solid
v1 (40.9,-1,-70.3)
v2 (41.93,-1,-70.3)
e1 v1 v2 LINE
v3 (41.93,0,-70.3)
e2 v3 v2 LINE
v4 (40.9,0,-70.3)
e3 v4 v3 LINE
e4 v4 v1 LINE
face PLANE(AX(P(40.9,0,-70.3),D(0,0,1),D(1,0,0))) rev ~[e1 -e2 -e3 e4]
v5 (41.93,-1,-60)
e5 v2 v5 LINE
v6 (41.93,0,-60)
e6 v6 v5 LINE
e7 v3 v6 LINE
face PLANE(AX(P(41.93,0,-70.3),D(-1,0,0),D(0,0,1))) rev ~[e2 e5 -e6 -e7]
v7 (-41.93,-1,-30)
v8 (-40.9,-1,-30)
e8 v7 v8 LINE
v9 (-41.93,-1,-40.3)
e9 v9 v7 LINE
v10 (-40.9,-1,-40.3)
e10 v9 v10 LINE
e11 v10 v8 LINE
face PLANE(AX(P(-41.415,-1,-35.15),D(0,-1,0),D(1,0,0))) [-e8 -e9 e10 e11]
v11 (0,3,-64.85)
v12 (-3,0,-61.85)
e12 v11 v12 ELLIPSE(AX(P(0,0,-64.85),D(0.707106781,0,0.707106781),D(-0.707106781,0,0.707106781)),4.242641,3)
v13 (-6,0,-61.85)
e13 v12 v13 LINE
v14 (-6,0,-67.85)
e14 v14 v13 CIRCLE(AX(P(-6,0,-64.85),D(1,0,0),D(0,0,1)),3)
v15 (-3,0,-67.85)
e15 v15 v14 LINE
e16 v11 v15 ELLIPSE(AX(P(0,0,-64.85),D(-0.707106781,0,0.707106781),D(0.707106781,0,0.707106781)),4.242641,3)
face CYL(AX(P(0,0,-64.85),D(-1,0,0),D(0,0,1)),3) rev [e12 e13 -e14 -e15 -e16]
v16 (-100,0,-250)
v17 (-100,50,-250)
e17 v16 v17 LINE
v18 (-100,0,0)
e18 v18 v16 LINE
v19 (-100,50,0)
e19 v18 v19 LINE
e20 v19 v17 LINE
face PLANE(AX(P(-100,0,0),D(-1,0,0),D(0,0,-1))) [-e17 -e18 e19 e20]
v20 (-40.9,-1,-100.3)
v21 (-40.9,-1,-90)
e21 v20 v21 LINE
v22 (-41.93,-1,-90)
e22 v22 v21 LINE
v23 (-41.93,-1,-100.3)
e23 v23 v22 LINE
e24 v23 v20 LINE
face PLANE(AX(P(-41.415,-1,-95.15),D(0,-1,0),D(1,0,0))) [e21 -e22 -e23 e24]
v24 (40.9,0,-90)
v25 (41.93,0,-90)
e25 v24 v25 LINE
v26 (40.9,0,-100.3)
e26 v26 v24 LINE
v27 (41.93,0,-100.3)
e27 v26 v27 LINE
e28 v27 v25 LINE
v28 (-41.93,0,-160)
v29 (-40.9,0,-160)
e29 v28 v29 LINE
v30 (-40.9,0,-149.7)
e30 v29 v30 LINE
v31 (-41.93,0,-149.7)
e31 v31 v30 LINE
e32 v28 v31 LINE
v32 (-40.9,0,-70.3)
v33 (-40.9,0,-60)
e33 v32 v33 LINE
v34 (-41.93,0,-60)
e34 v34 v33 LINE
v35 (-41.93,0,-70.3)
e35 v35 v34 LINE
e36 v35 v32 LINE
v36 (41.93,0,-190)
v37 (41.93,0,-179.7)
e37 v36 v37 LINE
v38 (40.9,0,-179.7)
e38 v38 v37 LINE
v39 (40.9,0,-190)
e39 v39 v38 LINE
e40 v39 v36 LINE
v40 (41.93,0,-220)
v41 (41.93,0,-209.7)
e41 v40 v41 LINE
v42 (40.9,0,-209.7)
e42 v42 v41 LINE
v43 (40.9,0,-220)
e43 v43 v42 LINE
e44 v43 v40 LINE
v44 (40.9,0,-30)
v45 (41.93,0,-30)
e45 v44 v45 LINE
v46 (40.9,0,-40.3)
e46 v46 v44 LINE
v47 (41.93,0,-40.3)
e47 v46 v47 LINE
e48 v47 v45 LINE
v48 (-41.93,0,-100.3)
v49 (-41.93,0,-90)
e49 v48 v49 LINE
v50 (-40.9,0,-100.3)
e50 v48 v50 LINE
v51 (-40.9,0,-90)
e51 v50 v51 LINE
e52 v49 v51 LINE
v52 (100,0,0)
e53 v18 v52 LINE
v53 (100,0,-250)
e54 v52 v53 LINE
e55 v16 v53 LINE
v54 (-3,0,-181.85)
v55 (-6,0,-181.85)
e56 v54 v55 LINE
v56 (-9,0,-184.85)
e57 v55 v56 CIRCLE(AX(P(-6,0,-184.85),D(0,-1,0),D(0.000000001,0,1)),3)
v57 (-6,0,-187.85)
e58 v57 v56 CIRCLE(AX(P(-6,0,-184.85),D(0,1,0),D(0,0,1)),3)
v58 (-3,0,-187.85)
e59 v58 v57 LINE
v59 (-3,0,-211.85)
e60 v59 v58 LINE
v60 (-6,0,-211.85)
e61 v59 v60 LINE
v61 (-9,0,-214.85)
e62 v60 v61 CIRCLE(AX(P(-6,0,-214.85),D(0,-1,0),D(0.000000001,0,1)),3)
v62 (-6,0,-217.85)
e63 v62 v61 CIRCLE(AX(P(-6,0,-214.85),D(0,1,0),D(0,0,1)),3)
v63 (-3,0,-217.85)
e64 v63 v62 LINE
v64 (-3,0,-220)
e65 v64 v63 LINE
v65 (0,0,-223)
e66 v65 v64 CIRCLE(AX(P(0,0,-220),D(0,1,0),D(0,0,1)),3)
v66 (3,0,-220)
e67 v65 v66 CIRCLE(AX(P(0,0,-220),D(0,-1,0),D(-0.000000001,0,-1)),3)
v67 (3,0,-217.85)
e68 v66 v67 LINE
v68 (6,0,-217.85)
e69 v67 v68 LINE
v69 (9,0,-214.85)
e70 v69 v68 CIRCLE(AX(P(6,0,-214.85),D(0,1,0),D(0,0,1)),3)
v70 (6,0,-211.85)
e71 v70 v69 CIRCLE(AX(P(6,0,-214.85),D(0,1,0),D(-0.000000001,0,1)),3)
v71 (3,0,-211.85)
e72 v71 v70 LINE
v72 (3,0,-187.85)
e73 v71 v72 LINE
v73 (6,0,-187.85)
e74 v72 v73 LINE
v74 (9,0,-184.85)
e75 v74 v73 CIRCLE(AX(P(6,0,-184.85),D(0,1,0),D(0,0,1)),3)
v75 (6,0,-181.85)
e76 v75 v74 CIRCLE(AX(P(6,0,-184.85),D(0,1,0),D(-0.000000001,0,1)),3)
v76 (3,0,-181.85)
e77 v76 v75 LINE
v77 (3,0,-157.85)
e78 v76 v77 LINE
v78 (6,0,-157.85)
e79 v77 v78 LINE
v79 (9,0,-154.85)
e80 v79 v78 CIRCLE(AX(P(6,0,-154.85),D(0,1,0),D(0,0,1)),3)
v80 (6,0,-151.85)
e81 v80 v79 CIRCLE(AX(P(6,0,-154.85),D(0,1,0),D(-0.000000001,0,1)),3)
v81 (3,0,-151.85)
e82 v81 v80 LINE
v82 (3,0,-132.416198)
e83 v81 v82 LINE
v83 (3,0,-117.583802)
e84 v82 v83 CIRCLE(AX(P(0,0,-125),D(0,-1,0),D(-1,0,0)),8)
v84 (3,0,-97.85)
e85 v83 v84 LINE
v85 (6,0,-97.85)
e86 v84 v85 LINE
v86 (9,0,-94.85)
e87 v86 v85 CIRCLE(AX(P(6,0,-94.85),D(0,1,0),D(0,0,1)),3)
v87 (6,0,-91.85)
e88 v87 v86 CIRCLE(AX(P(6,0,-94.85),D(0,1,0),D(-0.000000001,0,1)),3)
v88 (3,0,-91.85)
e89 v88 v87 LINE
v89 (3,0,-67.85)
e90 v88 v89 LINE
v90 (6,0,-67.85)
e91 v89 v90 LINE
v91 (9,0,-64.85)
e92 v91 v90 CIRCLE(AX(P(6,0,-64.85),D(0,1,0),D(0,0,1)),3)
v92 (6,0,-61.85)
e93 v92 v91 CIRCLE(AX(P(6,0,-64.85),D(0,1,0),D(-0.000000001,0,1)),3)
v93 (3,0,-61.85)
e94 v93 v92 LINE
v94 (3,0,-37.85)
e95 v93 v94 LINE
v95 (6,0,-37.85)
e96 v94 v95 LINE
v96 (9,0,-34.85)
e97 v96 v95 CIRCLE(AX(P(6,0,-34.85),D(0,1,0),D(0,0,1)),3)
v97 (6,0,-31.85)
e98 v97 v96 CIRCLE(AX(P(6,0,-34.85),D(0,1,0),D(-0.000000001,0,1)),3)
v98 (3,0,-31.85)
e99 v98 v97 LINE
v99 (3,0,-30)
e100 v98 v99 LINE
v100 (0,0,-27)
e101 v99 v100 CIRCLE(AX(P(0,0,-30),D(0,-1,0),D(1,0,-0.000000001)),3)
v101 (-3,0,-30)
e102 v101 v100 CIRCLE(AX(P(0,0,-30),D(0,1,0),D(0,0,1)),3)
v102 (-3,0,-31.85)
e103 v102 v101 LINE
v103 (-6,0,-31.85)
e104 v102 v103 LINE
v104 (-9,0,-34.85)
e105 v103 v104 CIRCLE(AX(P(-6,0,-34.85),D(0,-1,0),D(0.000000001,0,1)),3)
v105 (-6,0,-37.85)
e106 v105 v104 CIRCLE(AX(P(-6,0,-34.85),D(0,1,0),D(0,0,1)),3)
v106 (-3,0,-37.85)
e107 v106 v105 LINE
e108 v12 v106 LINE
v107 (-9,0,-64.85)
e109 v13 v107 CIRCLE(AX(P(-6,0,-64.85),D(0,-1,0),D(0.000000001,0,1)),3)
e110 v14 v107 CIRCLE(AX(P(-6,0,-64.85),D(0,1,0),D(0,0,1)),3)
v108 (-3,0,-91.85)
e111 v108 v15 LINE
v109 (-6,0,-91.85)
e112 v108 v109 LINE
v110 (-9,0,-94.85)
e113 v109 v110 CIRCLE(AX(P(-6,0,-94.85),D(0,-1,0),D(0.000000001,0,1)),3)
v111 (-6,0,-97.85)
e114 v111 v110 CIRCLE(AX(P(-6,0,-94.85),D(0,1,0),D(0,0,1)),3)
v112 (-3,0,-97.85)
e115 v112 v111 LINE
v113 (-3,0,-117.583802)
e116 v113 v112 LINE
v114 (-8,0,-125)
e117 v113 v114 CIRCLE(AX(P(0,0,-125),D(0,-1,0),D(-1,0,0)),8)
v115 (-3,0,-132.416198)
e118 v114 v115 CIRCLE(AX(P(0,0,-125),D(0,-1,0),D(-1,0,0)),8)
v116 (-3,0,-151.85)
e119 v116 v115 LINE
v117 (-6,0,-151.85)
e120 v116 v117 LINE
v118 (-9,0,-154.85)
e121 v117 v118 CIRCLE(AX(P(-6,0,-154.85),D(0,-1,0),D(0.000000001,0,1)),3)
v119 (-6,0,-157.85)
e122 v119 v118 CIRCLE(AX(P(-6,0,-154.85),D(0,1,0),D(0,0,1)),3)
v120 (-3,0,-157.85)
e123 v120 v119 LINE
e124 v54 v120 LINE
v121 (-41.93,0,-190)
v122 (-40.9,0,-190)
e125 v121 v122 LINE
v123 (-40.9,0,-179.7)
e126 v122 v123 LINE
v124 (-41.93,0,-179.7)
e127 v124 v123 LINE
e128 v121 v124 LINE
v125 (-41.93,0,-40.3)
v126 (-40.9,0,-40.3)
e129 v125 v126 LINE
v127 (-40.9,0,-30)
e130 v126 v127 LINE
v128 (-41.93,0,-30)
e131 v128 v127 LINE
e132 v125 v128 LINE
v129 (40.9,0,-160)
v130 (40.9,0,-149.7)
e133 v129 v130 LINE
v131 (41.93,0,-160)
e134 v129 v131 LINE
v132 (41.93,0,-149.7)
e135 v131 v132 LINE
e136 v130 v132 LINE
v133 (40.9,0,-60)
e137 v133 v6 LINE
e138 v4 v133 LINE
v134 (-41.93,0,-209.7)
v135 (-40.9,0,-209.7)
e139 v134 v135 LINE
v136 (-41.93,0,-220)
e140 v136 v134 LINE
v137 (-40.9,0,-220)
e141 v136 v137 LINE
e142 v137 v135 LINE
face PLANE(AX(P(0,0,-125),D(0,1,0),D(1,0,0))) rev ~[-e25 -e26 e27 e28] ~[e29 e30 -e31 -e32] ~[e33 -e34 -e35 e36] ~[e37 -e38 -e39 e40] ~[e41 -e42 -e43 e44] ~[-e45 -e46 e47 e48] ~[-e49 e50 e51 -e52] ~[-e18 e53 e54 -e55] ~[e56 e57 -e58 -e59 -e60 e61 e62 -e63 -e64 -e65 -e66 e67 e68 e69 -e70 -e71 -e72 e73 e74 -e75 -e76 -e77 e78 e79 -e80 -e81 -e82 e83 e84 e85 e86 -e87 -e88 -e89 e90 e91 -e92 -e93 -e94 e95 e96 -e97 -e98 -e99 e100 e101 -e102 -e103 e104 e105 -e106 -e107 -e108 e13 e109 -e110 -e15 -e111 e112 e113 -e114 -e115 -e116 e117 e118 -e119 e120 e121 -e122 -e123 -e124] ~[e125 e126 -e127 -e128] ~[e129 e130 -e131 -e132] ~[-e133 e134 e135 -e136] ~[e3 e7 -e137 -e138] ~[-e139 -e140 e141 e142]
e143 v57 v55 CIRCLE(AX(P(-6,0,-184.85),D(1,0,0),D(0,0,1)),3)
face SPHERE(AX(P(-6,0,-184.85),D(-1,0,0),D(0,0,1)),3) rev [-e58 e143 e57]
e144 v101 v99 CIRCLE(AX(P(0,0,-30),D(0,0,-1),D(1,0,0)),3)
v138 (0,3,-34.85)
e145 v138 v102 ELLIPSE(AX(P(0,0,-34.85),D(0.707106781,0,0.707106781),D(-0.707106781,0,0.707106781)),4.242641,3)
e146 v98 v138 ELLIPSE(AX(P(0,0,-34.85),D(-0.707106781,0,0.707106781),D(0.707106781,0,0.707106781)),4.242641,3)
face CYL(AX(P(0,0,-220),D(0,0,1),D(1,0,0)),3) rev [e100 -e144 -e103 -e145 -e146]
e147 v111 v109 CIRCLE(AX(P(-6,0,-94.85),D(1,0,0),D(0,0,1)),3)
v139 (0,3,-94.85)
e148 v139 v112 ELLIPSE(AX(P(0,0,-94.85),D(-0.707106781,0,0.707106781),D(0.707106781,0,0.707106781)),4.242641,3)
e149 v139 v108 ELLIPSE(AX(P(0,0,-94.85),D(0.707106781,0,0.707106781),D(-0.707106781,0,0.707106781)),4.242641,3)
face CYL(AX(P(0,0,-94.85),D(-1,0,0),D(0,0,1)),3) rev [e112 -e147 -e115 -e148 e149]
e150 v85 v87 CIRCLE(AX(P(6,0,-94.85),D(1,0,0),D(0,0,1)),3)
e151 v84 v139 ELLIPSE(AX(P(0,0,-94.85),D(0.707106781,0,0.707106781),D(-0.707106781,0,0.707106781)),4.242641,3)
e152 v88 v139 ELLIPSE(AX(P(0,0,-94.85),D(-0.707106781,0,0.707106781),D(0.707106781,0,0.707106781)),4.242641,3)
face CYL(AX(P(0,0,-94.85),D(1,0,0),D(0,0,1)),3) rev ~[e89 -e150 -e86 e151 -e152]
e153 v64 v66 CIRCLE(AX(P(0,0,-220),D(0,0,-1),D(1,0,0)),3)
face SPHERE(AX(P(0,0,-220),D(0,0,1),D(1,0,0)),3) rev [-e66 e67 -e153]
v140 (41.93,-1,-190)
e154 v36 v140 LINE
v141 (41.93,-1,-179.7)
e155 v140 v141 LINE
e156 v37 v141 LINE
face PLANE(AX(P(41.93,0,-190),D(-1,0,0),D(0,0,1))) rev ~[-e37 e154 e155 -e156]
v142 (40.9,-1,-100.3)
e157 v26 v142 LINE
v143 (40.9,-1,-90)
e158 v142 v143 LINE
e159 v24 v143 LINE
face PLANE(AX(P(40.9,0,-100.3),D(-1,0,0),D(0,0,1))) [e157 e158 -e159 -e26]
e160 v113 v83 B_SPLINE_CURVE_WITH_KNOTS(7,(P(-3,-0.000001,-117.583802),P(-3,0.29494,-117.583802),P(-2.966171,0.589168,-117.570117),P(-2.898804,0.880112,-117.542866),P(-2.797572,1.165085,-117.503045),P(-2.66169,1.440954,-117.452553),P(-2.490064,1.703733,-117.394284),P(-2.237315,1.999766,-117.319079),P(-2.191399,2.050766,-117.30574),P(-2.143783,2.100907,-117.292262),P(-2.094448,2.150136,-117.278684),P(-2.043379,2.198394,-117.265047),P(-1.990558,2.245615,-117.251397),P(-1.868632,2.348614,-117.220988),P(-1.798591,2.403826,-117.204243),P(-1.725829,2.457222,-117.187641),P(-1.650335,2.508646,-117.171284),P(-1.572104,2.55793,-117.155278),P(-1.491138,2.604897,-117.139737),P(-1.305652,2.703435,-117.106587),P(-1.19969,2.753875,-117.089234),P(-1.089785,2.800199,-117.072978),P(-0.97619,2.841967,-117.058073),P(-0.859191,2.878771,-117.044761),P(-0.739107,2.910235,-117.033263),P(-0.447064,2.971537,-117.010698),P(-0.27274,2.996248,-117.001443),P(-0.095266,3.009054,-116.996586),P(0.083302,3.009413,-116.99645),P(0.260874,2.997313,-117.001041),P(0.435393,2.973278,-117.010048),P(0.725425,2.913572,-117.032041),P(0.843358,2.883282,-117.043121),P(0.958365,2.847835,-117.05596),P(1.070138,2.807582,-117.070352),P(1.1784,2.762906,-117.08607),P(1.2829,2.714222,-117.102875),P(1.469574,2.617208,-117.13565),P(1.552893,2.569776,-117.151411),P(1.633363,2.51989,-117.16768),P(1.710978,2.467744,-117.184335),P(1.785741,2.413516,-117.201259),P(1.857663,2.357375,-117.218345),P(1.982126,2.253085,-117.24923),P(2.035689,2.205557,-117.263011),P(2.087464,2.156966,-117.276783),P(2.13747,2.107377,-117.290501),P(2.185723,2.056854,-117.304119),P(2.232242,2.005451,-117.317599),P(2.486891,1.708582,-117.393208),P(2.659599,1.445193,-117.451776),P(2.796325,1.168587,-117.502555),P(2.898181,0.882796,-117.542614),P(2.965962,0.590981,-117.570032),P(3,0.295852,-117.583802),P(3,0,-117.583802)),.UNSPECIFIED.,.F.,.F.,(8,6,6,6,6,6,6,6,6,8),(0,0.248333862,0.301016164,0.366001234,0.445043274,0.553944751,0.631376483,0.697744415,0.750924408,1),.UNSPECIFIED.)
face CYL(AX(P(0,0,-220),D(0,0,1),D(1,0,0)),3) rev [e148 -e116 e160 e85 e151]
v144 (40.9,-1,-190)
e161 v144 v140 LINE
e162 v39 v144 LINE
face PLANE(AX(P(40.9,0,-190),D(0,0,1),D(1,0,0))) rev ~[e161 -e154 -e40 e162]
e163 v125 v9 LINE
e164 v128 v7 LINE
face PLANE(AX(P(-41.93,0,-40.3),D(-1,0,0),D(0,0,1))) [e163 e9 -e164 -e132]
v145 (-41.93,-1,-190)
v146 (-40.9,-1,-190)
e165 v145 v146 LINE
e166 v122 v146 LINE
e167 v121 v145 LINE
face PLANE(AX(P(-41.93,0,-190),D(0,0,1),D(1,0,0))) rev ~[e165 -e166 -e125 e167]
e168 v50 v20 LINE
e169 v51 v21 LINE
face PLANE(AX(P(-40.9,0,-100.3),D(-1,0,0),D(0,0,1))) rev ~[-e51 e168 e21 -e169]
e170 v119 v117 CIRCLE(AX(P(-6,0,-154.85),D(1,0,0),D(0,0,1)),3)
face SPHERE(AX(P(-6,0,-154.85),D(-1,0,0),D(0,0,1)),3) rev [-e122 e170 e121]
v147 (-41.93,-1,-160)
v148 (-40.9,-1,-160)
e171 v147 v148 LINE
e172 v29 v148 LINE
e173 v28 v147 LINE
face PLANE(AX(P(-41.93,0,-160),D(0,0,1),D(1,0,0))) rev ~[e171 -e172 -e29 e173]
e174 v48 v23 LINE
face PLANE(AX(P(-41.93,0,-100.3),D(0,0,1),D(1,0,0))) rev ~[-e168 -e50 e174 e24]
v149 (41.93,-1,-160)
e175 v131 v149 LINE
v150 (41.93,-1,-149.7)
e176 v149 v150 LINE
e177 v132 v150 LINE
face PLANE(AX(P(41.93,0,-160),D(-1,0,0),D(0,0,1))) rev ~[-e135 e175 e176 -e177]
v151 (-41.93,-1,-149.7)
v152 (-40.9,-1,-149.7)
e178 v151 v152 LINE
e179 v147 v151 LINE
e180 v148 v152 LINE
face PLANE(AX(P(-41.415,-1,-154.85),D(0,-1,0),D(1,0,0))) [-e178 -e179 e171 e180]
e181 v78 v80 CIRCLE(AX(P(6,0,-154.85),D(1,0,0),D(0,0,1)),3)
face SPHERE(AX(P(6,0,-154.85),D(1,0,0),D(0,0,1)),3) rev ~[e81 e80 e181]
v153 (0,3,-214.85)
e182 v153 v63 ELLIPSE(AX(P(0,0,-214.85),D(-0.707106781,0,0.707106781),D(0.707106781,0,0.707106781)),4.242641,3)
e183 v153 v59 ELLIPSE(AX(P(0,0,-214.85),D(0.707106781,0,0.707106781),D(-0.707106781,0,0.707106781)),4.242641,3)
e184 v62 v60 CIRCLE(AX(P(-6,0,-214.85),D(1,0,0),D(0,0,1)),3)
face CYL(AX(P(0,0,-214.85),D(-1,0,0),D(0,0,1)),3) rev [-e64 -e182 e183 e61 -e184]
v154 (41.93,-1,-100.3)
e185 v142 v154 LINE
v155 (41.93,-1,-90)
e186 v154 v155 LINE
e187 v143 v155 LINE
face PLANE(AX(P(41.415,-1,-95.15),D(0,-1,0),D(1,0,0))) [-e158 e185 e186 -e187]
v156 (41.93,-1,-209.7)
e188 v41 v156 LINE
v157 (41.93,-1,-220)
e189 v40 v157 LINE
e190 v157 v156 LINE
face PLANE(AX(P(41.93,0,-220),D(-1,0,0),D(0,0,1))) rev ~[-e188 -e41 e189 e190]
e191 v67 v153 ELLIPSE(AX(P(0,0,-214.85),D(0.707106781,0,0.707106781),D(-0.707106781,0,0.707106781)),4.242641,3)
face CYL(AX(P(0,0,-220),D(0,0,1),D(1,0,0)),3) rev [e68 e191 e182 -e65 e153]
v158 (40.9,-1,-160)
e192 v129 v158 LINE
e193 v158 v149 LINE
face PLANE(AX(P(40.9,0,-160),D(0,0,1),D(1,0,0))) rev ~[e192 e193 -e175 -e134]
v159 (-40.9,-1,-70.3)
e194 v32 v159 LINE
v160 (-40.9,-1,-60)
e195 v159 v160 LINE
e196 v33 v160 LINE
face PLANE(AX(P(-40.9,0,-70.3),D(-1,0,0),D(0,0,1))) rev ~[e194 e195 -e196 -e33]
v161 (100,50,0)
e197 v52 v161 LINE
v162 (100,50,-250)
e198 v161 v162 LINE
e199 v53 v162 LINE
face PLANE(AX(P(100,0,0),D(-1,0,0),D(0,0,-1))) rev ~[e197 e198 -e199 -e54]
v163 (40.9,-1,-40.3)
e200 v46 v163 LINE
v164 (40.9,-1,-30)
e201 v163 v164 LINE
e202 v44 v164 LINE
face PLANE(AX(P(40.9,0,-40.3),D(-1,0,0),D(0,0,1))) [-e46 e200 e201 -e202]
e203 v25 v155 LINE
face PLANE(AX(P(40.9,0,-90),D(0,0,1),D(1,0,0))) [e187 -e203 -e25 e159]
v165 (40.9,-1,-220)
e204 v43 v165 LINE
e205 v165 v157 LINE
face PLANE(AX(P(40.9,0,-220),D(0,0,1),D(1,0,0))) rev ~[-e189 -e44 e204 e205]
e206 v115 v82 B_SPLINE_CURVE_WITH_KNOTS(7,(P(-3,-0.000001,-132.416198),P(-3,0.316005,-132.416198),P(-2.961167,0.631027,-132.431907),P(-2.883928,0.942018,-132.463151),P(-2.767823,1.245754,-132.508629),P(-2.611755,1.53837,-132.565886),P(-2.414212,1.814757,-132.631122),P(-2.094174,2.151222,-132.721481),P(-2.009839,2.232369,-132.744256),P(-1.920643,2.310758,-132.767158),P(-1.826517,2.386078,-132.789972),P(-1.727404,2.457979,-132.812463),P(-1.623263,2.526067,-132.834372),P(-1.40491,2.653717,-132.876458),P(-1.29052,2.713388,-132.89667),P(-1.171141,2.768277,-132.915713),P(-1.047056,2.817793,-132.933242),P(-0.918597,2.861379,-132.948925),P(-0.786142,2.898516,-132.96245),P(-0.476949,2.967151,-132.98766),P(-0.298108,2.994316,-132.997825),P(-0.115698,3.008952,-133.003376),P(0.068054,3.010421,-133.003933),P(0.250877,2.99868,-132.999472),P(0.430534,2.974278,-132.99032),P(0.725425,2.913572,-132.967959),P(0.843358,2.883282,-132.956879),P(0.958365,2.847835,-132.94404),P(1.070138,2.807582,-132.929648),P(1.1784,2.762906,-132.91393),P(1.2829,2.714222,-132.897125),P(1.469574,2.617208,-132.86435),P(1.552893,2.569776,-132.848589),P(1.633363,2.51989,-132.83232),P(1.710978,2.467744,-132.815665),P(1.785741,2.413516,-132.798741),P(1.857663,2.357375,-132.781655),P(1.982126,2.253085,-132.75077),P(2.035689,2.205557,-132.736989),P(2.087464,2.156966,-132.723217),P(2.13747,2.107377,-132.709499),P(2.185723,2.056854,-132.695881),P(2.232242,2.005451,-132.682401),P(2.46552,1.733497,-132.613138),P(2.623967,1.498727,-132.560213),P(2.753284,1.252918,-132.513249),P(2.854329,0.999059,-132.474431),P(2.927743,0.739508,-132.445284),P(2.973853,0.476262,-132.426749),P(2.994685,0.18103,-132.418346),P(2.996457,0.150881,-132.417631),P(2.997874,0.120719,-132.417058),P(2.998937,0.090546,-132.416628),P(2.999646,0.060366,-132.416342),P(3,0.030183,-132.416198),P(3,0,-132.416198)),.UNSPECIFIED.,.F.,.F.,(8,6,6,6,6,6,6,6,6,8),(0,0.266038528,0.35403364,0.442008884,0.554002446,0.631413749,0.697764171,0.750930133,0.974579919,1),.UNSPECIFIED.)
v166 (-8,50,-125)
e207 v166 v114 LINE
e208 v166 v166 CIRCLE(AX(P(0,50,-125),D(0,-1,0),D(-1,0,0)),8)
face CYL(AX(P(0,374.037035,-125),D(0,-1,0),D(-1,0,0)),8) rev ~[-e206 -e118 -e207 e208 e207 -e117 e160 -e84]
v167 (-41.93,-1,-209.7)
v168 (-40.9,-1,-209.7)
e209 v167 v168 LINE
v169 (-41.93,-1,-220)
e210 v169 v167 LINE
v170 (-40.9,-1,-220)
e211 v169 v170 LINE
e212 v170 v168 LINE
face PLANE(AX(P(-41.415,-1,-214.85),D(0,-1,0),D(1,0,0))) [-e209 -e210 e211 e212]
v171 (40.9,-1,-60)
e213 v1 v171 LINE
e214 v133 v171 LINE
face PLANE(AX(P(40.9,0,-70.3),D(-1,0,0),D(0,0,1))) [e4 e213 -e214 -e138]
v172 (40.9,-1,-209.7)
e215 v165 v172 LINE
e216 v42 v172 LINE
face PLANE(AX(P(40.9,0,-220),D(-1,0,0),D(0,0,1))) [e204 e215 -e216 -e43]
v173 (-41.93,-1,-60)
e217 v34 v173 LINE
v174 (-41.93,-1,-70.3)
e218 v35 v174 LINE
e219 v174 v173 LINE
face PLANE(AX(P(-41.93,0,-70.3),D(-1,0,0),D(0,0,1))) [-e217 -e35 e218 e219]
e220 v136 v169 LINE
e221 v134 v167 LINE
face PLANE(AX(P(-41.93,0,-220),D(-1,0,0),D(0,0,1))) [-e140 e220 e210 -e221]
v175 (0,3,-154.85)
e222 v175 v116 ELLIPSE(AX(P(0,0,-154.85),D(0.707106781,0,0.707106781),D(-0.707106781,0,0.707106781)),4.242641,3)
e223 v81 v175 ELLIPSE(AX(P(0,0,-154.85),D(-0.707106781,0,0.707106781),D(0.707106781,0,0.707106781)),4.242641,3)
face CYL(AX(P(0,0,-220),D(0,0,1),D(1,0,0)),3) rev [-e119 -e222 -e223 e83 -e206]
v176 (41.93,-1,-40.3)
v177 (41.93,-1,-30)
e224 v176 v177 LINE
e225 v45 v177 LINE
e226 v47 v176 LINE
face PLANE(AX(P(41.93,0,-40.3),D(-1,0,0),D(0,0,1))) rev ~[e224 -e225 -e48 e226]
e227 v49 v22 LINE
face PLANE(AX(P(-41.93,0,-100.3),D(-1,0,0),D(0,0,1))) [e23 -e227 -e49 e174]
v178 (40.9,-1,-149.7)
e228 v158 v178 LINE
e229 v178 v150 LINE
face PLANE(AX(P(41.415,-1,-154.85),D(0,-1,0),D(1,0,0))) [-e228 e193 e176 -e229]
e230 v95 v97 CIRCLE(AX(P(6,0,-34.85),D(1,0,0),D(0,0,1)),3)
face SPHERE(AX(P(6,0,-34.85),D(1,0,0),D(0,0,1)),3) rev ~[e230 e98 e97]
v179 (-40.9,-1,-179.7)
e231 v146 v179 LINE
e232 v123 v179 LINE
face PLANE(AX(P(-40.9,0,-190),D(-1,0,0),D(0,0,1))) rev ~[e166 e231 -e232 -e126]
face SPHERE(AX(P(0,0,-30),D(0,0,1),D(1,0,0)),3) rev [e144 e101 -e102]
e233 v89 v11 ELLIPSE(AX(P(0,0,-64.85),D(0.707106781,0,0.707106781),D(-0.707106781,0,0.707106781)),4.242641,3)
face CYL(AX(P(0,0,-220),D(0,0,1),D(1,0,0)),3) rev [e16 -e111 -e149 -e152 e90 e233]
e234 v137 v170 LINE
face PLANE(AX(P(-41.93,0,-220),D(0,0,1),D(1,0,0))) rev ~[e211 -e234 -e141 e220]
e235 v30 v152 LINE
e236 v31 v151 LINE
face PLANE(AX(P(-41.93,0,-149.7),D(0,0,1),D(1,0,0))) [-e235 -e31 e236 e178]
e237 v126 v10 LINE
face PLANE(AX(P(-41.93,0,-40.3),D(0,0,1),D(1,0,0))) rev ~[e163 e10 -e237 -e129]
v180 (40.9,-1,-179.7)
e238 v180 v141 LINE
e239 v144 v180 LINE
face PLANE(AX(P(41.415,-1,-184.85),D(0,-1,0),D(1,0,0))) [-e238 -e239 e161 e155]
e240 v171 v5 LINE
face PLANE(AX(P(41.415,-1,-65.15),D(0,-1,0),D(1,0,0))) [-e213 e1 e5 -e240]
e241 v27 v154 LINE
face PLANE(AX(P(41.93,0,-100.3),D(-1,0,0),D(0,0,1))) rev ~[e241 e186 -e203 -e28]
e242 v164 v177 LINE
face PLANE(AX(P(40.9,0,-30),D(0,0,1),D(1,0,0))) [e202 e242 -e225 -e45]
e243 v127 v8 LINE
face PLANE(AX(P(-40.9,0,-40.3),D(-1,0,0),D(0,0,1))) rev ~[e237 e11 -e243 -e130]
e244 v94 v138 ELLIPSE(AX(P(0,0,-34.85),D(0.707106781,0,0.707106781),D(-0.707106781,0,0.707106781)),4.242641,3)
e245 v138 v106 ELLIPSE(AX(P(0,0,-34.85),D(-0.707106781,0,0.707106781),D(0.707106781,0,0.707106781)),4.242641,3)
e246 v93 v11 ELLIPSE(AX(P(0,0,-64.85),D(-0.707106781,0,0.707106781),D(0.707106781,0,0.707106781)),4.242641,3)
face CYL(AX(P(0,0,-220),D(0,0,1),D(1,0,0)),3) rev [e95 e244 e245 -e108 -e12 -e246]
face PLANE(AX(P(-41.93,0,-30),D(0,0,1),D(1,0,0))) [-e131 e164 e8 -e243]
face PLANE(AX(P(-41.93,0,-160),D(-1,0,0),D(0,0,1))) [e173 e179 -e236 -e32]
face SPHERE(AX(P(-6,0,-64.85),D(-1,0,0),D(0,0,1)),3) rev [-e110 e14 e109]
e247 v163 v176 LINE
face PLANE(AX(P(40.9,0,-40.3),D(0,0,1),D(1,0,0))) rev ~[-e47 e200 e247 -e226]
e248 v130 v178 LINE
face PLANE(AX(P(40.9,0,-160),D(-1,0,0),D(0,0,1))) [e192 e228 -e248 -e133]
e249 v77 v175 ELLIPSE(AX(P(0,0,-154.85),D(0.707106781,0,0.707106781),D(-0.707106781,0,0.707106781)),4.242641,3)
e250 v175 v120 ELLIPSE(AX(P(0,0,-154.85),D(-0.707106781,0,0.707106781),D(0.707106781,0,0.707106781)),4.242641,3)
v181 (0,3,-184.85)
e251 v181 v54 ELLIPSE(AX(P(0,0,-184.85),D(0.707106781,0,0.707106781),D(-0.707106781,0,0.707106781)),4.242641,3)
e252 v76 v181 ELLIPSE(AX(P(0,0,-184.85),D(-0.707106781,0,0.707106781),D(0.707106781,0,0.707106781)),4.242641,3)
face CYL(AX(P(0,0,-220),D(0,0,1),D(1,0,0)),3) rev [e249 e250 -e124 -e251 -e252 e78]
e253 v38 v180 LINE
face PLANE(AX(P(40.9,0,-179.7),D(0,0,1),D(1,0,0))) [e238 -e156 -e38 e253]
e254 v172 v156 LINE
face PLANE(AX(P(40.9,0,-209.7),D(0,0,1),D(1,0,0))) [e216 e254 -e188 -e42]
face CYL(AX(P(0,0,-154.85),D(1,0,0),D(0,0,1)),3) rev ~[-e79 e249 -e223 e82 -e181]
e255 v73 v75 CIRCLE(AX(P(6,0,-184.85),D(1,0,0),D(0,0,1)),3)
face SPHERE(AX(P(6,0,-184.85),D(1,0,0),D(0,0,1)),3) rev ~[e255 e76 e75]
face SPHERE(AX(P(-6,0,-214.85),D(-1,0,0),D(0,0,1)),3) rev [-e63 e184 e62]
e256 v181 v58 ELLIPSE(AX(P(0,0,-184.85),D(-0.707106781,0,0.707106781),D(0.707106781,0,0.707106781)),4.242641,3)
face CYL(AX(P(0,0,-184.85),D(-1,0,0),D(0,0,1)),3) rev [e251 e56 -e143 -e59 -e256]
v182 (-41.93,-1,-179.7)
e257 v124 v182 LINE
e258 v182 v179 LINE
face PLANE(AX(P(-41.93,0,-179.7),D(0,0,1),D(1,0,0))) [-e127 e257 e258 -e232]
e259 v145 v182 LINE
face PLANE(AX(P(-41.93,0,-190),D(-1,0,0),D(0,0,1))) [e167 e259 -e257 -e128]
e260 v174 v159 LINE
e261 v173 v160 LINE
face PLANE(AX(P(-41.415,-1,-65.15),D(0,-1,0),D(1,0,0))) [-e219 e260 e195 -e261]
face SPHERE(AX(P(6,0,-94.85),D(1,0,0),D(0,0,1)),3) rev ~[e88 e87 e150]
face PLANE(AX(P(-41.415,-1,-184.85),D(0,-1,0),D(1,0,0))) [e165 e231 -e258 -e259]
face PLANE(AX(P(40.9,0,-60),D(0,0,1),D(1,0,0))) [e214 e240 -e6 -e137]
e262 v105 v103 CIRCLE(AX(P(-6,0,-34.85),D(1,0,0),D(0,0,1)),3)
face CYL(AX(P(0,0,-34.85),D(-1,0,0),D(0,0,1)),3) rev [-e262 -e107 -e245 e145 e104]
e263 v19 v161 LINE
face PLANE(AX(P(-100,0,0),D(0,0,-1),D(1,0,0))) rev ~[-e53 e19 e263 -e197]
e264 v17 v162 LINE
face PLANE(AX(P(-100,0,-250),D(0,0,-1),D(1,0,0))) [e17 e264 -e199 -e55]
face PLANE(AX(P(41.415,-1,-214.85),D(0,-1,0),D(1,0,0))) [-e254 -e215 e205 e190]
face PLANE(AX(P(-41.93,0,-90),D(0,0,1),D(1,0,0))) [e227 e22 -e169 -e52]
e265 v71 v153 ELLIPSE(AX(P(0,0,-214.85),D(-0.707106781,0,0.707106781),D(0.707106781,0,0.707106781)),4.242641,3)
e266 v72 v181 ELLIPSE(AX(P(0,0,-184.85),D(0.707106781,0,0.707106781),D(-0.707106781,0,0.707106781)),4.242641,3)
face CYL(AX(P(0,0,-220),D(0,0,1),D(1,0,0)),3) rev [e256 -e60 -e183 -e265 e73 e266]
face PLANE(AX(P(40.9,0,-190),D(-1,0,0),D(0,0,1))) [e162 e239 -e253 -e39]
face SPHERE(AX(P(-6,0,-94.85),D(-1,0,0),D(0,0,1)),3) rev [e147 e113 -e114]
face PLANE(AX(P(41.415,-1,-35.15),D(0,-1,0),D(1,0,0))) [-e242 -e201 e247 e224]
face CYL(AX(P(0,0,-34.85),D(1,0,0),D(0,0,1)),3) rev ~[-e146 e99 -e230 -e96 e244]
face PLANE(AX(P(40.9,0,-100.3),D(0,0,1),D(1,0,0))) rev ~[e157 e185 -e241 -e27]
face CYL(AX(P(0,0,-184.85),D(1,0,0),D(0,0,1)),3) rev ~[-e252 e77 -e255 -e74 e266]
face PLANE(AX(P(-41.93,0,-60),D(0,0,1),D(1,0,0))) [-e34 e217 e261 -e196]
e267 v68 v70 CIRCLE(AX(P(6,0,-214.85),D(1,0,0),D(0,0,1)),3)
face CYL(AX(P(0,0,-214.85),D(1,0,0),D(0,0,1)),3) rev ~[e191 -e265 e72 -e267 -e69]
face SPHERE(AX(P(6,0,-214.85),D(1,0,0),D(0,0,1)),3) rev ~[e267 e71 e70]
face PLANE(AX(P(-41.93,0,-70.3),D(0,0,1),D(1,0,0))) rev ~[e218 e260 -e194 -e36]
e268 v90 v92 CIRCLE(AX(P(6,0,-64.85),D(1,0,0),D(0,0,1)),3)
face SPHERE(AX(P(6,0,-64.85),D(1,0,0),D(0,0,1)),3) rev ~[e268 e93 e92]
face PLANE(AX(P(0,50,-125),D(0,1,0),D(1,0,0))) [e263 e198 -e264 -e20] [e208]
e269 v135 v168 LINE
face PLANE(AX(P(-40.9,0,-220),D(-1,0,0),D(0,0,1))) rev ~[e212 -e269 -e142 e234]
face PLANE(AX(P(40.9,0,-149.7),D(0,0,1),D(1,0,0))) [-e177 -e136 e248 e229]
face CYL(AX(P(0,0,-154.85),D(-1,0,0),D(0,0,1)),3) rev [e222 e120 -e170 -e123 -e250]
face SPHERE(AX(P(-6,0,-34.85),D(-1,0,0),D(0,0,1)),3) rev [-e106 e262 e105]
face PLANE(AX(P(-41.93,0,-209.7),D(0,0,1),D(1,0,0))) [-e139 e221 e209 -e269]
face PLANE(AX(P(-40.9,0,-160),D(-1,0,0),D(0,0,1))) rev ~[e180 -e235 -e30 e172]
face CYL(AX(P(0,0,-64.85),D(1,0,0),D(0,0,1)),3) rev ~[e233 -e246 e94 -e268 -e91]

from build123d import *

# Parameters (mm, degrees)
ESBO_O1_W                    = 200
ESBO_O1_H                    = 250
RESSALTO_EXTRUS_O1_DEPTH     = 50
FURO_DE_DI_METRO_16_0_16_1_D = 16
PADR_O_LINEAR1_COUNT         = 3
PADR_O_LINEAR1_PITCH         = 30
PADR_O_LINEAR1_COUNT_DIR2    = 2
PADR_O_LINEAR1_PITCH_DIR2    = 120
ESBO_O7_W                    = 1.03
ESBO_O7_H                    = 10.3
RESSALTO_EXTRUS_O2_DEPTH     = 1


with BuildPart() as part:
    # Esboço1 → Ressalto-extrusão1 (new body)
    with BuildSketch(Plane(origin=(0, 0, 0), x_dir=(1, 0, 0), z_dir=(0, 1, 0))):
        with Locations((0, 125)):
            Rectangle(ESBO_O1_W, ESBO_O1_H)
    extrude(amount=RESSALTO_EXTRUS_O1_DEPTH)

    # Furo de diâmetro Ø16.0 (16)1 (through all)
    with Locations(Plane(origin=(0, 50, 0), x_dir=(1, 0, 0), z_dir=(0, 1, 0))):
        with Locations((0, 125)):
            Hole(FURO_DE_DI_METRO_16_0_16_1_D / 2)

    # Esboço5 → Corte-Revolução1 (revolve, cut)
    with BuildSketch(Plane.XZ):
        with BuildLine():
            Line((0, -27), (0, -223))
            ThreePointArc((0, -223), (2.121320344, -222.121320344), (3, -220))
            Line((3, -220), (3, -30))
            ThreePointArc((3, -30), (2.121320344, -27.878679656), (0, -27))
        make_face()
    revolve(axis=Axis((0, 0, -27), (0, 0, -1)), mode=Mode.SUBTRACT)

    # Esboço6 → Corte-Revolução2 (revolve, cut)
    with BuildSketch(Plane.XZ):
        with BuildLine():
            Line((-9, -34.85), (0, -34.85))
            Line((0, -34.85), (0, -31.85))
            Line((0, -31.85), (-6, -31.85))
            ThreePointArc((-6, -31.85), (-8.121320344, -32.728679656), (-9, -34.85))
        make_face()
    corte_revolu_o2 = revolve(axis=Axis((-9, 0, -34.85), (1, 0, 0)), mode=Mode.SUBTRACT)

    # Padrão linear1: Corte-Revolu_o2 3 × 2
    with Locations(*[Vector(0, 0, -1) * (i * PADR_O_LINEAR1_PITCH) + Vector(0, 0, -1) * (j * PADR_O_LINEAR1_PITCH_DIR2) for i in range(PADR_O_LINEAR1_COUNT) for j in range(PADR_O_LINEAR1_COUNT_DIR2) if (i, j) != (0, 0)]):
        add(corte_revolu_o2, mode=Mode.SUBTRACT)

    # Espelhar1: Corte-Revolução2 across plane
    add(corte_revolu_o2.mirror(Plane(origin=(0, 0, 0), x_dir=(0, 0, 1), z_dir=(1, 0, 0))), mode=Mode.SUBTRACT)

    # Espelhar1 copy 1 sketch → Espelhar1 copy 1 (revolve, cut)
    with BuildSketch(Plane(origin=(0, 0, -120), x_dir=(-1, 0, 0), z_dir=(0, -1, 0))):
        with BuildLine():
            Line((-9, 34.85), (0, 34.85))
            Line((0, 34.85), (0, 31.85))
            Line((0, 31.85), (-6, 31.85))
            ThreePointArc((-6, 31.85), (-8.121320344, 32.728679656), (-9, 34.85))
        make_face()
    revolve(axis=Axis((9, 0, -154.85), (1, 0, 0)), mode=Mode.SUBTRACT)

    # Espelhar1 copy 2 sketch → Espelhar1 copy 2 (revolve, cut)
    with BuildSketch(Plane(origin=(0, 0, -30), x_dir=(-1, 0, 0), z_dir=(0, -1, 0))):
        with BuildLine():
            Line((-9, 34.85), (0, 34.85))
            Line((0, 34.85), (0, 31.85))
            Line((0, 31.85), (-6, 31.85))
            ThreePointArc((-6, 31.85), (-8.121320344, 32.728679656), (-9, 34.85))
        make_face()
    revolve(axis=Axis((9, 0, -64.85), (1, 0, 0)), mode=Mode.SUBTRACT)

    # Espelhar1 copy 3 sketch → Espelhar1 copy 3 (revolve, cut)
    with BuildSketch(Plane(origin=(0, 0, -150), x_dir=(-1, 0, 0), z_dir=(0, -1, 0))):
        with BuildLine():
            Line((-9, 34.85), (0, 34.85))
            Line((0, 34.85), (0, 31.85))
            Line((0, 31.85), (-6, 31.85))
            ThreePointArc((-6, 31.85), (-8.121320344, 32.728679656), (-9, 34.85))
        make_face()
    revolve(axis=Axis((9, 0, -184.85), (1, 0, 0)), mode=Mode.SUBTRACT)

    # Espelhar1 copy 4 sketch → Espelhar1 copy 4 (revolve, cut)
    with BuildSketch(Plane(origin=(0, 0, -60), x_dir=(-1, 0, 0), z_dir=(0, -1, 0))):
        with BuildLine():
            Line((-9, 34.85), (0, 34.85))
            Line((0, 34.85), (0, 31.85))
            Line((0, 31.85), (-6, 31.85))
            ThreePointArc((-6, 31.85), (-8.121320344, 32.728679656), (-9, 34.85))
        make_face()
    revolve(axis=Axis((9, 0, -94.85), (1, 0, 0)), mode=Mode.SUBTRACT)

    # Espelhar1 copy 5 sketch → Espelhar1 copy 5 (revolve, cut)
    with BuildSketch(Plane(origin=(0, 0, -180), x_dir=(-1, 0, 0), z_dir=(0, -1, 0))):
        with BuildLine():
            Line((-9, 34.85), (0, 34.85))
            Line((0, 34.85), (0, 31.85))
            Line((0, 31.85), (-6, 31.85))
            ThreePointArc((-6, 31.85), (-8.121320344, 32.728679656), (-9, 34.85))
        make_face()
    revolve(axis=Axis((9, 0, -214.85), (1, 0, 0)), mode=Mode.SUBTRACT)

    # Esboço7 → Ressalto-extrusão2 (add)
    with BuildSketch(Plane.XZ):
        with Locations((-41.415, -35.15)):
            Rectangle(ESBO_O7_W, ESBO_O7_H)
        with Locations((-41.415, -65.15)):
            Rectangle(ESBO_O7_W, ESBO_O7_H)
        with Locations((-41.415, -95.15)):
            Rectangle(ESBO_O7_W, ESBO_O7_H)
        with Locations((-41.415, -154.85)):
            Rectangle(ESBO_O7_W, ESBO_O7_H)
        with Locations((-41.415, -184.85)):
            Rectangle(ESBO_O7_W, ESBO_O7_H)
        with Locations((-41.415, -214.85)):
            Rectangle(ESBO_O7_W, ESBO_O7_H)
        with Locations((41.415, -214.85)):
            Rectangle(ESBO_O7_W, ESBO_O7_H)
        with Locations((41.415, -184.85)):
            Rectangle(ESBO_O7_W, ESBO_O7_H)
        with Locations((41.415, -154.85)):
            Rectangle(ESBO_O7_W, ESBO_O7_H)
        with Locations((41.415, -95.15)):
            Rectangle(ESBO_O7_W, ESBO_O7_H)
        with Locations((41.415, -65.15)):
            Rectangle(ESBO_O7_W, ESBO_O7_H)
        with Locations((41.415, -35.15)):
            Rectangle(ESBO_O7_W, ESBO_O7_H)
    extrude(amount=RESSALTO_EXTRUS_O2_DEPTH)


solid = part.part
